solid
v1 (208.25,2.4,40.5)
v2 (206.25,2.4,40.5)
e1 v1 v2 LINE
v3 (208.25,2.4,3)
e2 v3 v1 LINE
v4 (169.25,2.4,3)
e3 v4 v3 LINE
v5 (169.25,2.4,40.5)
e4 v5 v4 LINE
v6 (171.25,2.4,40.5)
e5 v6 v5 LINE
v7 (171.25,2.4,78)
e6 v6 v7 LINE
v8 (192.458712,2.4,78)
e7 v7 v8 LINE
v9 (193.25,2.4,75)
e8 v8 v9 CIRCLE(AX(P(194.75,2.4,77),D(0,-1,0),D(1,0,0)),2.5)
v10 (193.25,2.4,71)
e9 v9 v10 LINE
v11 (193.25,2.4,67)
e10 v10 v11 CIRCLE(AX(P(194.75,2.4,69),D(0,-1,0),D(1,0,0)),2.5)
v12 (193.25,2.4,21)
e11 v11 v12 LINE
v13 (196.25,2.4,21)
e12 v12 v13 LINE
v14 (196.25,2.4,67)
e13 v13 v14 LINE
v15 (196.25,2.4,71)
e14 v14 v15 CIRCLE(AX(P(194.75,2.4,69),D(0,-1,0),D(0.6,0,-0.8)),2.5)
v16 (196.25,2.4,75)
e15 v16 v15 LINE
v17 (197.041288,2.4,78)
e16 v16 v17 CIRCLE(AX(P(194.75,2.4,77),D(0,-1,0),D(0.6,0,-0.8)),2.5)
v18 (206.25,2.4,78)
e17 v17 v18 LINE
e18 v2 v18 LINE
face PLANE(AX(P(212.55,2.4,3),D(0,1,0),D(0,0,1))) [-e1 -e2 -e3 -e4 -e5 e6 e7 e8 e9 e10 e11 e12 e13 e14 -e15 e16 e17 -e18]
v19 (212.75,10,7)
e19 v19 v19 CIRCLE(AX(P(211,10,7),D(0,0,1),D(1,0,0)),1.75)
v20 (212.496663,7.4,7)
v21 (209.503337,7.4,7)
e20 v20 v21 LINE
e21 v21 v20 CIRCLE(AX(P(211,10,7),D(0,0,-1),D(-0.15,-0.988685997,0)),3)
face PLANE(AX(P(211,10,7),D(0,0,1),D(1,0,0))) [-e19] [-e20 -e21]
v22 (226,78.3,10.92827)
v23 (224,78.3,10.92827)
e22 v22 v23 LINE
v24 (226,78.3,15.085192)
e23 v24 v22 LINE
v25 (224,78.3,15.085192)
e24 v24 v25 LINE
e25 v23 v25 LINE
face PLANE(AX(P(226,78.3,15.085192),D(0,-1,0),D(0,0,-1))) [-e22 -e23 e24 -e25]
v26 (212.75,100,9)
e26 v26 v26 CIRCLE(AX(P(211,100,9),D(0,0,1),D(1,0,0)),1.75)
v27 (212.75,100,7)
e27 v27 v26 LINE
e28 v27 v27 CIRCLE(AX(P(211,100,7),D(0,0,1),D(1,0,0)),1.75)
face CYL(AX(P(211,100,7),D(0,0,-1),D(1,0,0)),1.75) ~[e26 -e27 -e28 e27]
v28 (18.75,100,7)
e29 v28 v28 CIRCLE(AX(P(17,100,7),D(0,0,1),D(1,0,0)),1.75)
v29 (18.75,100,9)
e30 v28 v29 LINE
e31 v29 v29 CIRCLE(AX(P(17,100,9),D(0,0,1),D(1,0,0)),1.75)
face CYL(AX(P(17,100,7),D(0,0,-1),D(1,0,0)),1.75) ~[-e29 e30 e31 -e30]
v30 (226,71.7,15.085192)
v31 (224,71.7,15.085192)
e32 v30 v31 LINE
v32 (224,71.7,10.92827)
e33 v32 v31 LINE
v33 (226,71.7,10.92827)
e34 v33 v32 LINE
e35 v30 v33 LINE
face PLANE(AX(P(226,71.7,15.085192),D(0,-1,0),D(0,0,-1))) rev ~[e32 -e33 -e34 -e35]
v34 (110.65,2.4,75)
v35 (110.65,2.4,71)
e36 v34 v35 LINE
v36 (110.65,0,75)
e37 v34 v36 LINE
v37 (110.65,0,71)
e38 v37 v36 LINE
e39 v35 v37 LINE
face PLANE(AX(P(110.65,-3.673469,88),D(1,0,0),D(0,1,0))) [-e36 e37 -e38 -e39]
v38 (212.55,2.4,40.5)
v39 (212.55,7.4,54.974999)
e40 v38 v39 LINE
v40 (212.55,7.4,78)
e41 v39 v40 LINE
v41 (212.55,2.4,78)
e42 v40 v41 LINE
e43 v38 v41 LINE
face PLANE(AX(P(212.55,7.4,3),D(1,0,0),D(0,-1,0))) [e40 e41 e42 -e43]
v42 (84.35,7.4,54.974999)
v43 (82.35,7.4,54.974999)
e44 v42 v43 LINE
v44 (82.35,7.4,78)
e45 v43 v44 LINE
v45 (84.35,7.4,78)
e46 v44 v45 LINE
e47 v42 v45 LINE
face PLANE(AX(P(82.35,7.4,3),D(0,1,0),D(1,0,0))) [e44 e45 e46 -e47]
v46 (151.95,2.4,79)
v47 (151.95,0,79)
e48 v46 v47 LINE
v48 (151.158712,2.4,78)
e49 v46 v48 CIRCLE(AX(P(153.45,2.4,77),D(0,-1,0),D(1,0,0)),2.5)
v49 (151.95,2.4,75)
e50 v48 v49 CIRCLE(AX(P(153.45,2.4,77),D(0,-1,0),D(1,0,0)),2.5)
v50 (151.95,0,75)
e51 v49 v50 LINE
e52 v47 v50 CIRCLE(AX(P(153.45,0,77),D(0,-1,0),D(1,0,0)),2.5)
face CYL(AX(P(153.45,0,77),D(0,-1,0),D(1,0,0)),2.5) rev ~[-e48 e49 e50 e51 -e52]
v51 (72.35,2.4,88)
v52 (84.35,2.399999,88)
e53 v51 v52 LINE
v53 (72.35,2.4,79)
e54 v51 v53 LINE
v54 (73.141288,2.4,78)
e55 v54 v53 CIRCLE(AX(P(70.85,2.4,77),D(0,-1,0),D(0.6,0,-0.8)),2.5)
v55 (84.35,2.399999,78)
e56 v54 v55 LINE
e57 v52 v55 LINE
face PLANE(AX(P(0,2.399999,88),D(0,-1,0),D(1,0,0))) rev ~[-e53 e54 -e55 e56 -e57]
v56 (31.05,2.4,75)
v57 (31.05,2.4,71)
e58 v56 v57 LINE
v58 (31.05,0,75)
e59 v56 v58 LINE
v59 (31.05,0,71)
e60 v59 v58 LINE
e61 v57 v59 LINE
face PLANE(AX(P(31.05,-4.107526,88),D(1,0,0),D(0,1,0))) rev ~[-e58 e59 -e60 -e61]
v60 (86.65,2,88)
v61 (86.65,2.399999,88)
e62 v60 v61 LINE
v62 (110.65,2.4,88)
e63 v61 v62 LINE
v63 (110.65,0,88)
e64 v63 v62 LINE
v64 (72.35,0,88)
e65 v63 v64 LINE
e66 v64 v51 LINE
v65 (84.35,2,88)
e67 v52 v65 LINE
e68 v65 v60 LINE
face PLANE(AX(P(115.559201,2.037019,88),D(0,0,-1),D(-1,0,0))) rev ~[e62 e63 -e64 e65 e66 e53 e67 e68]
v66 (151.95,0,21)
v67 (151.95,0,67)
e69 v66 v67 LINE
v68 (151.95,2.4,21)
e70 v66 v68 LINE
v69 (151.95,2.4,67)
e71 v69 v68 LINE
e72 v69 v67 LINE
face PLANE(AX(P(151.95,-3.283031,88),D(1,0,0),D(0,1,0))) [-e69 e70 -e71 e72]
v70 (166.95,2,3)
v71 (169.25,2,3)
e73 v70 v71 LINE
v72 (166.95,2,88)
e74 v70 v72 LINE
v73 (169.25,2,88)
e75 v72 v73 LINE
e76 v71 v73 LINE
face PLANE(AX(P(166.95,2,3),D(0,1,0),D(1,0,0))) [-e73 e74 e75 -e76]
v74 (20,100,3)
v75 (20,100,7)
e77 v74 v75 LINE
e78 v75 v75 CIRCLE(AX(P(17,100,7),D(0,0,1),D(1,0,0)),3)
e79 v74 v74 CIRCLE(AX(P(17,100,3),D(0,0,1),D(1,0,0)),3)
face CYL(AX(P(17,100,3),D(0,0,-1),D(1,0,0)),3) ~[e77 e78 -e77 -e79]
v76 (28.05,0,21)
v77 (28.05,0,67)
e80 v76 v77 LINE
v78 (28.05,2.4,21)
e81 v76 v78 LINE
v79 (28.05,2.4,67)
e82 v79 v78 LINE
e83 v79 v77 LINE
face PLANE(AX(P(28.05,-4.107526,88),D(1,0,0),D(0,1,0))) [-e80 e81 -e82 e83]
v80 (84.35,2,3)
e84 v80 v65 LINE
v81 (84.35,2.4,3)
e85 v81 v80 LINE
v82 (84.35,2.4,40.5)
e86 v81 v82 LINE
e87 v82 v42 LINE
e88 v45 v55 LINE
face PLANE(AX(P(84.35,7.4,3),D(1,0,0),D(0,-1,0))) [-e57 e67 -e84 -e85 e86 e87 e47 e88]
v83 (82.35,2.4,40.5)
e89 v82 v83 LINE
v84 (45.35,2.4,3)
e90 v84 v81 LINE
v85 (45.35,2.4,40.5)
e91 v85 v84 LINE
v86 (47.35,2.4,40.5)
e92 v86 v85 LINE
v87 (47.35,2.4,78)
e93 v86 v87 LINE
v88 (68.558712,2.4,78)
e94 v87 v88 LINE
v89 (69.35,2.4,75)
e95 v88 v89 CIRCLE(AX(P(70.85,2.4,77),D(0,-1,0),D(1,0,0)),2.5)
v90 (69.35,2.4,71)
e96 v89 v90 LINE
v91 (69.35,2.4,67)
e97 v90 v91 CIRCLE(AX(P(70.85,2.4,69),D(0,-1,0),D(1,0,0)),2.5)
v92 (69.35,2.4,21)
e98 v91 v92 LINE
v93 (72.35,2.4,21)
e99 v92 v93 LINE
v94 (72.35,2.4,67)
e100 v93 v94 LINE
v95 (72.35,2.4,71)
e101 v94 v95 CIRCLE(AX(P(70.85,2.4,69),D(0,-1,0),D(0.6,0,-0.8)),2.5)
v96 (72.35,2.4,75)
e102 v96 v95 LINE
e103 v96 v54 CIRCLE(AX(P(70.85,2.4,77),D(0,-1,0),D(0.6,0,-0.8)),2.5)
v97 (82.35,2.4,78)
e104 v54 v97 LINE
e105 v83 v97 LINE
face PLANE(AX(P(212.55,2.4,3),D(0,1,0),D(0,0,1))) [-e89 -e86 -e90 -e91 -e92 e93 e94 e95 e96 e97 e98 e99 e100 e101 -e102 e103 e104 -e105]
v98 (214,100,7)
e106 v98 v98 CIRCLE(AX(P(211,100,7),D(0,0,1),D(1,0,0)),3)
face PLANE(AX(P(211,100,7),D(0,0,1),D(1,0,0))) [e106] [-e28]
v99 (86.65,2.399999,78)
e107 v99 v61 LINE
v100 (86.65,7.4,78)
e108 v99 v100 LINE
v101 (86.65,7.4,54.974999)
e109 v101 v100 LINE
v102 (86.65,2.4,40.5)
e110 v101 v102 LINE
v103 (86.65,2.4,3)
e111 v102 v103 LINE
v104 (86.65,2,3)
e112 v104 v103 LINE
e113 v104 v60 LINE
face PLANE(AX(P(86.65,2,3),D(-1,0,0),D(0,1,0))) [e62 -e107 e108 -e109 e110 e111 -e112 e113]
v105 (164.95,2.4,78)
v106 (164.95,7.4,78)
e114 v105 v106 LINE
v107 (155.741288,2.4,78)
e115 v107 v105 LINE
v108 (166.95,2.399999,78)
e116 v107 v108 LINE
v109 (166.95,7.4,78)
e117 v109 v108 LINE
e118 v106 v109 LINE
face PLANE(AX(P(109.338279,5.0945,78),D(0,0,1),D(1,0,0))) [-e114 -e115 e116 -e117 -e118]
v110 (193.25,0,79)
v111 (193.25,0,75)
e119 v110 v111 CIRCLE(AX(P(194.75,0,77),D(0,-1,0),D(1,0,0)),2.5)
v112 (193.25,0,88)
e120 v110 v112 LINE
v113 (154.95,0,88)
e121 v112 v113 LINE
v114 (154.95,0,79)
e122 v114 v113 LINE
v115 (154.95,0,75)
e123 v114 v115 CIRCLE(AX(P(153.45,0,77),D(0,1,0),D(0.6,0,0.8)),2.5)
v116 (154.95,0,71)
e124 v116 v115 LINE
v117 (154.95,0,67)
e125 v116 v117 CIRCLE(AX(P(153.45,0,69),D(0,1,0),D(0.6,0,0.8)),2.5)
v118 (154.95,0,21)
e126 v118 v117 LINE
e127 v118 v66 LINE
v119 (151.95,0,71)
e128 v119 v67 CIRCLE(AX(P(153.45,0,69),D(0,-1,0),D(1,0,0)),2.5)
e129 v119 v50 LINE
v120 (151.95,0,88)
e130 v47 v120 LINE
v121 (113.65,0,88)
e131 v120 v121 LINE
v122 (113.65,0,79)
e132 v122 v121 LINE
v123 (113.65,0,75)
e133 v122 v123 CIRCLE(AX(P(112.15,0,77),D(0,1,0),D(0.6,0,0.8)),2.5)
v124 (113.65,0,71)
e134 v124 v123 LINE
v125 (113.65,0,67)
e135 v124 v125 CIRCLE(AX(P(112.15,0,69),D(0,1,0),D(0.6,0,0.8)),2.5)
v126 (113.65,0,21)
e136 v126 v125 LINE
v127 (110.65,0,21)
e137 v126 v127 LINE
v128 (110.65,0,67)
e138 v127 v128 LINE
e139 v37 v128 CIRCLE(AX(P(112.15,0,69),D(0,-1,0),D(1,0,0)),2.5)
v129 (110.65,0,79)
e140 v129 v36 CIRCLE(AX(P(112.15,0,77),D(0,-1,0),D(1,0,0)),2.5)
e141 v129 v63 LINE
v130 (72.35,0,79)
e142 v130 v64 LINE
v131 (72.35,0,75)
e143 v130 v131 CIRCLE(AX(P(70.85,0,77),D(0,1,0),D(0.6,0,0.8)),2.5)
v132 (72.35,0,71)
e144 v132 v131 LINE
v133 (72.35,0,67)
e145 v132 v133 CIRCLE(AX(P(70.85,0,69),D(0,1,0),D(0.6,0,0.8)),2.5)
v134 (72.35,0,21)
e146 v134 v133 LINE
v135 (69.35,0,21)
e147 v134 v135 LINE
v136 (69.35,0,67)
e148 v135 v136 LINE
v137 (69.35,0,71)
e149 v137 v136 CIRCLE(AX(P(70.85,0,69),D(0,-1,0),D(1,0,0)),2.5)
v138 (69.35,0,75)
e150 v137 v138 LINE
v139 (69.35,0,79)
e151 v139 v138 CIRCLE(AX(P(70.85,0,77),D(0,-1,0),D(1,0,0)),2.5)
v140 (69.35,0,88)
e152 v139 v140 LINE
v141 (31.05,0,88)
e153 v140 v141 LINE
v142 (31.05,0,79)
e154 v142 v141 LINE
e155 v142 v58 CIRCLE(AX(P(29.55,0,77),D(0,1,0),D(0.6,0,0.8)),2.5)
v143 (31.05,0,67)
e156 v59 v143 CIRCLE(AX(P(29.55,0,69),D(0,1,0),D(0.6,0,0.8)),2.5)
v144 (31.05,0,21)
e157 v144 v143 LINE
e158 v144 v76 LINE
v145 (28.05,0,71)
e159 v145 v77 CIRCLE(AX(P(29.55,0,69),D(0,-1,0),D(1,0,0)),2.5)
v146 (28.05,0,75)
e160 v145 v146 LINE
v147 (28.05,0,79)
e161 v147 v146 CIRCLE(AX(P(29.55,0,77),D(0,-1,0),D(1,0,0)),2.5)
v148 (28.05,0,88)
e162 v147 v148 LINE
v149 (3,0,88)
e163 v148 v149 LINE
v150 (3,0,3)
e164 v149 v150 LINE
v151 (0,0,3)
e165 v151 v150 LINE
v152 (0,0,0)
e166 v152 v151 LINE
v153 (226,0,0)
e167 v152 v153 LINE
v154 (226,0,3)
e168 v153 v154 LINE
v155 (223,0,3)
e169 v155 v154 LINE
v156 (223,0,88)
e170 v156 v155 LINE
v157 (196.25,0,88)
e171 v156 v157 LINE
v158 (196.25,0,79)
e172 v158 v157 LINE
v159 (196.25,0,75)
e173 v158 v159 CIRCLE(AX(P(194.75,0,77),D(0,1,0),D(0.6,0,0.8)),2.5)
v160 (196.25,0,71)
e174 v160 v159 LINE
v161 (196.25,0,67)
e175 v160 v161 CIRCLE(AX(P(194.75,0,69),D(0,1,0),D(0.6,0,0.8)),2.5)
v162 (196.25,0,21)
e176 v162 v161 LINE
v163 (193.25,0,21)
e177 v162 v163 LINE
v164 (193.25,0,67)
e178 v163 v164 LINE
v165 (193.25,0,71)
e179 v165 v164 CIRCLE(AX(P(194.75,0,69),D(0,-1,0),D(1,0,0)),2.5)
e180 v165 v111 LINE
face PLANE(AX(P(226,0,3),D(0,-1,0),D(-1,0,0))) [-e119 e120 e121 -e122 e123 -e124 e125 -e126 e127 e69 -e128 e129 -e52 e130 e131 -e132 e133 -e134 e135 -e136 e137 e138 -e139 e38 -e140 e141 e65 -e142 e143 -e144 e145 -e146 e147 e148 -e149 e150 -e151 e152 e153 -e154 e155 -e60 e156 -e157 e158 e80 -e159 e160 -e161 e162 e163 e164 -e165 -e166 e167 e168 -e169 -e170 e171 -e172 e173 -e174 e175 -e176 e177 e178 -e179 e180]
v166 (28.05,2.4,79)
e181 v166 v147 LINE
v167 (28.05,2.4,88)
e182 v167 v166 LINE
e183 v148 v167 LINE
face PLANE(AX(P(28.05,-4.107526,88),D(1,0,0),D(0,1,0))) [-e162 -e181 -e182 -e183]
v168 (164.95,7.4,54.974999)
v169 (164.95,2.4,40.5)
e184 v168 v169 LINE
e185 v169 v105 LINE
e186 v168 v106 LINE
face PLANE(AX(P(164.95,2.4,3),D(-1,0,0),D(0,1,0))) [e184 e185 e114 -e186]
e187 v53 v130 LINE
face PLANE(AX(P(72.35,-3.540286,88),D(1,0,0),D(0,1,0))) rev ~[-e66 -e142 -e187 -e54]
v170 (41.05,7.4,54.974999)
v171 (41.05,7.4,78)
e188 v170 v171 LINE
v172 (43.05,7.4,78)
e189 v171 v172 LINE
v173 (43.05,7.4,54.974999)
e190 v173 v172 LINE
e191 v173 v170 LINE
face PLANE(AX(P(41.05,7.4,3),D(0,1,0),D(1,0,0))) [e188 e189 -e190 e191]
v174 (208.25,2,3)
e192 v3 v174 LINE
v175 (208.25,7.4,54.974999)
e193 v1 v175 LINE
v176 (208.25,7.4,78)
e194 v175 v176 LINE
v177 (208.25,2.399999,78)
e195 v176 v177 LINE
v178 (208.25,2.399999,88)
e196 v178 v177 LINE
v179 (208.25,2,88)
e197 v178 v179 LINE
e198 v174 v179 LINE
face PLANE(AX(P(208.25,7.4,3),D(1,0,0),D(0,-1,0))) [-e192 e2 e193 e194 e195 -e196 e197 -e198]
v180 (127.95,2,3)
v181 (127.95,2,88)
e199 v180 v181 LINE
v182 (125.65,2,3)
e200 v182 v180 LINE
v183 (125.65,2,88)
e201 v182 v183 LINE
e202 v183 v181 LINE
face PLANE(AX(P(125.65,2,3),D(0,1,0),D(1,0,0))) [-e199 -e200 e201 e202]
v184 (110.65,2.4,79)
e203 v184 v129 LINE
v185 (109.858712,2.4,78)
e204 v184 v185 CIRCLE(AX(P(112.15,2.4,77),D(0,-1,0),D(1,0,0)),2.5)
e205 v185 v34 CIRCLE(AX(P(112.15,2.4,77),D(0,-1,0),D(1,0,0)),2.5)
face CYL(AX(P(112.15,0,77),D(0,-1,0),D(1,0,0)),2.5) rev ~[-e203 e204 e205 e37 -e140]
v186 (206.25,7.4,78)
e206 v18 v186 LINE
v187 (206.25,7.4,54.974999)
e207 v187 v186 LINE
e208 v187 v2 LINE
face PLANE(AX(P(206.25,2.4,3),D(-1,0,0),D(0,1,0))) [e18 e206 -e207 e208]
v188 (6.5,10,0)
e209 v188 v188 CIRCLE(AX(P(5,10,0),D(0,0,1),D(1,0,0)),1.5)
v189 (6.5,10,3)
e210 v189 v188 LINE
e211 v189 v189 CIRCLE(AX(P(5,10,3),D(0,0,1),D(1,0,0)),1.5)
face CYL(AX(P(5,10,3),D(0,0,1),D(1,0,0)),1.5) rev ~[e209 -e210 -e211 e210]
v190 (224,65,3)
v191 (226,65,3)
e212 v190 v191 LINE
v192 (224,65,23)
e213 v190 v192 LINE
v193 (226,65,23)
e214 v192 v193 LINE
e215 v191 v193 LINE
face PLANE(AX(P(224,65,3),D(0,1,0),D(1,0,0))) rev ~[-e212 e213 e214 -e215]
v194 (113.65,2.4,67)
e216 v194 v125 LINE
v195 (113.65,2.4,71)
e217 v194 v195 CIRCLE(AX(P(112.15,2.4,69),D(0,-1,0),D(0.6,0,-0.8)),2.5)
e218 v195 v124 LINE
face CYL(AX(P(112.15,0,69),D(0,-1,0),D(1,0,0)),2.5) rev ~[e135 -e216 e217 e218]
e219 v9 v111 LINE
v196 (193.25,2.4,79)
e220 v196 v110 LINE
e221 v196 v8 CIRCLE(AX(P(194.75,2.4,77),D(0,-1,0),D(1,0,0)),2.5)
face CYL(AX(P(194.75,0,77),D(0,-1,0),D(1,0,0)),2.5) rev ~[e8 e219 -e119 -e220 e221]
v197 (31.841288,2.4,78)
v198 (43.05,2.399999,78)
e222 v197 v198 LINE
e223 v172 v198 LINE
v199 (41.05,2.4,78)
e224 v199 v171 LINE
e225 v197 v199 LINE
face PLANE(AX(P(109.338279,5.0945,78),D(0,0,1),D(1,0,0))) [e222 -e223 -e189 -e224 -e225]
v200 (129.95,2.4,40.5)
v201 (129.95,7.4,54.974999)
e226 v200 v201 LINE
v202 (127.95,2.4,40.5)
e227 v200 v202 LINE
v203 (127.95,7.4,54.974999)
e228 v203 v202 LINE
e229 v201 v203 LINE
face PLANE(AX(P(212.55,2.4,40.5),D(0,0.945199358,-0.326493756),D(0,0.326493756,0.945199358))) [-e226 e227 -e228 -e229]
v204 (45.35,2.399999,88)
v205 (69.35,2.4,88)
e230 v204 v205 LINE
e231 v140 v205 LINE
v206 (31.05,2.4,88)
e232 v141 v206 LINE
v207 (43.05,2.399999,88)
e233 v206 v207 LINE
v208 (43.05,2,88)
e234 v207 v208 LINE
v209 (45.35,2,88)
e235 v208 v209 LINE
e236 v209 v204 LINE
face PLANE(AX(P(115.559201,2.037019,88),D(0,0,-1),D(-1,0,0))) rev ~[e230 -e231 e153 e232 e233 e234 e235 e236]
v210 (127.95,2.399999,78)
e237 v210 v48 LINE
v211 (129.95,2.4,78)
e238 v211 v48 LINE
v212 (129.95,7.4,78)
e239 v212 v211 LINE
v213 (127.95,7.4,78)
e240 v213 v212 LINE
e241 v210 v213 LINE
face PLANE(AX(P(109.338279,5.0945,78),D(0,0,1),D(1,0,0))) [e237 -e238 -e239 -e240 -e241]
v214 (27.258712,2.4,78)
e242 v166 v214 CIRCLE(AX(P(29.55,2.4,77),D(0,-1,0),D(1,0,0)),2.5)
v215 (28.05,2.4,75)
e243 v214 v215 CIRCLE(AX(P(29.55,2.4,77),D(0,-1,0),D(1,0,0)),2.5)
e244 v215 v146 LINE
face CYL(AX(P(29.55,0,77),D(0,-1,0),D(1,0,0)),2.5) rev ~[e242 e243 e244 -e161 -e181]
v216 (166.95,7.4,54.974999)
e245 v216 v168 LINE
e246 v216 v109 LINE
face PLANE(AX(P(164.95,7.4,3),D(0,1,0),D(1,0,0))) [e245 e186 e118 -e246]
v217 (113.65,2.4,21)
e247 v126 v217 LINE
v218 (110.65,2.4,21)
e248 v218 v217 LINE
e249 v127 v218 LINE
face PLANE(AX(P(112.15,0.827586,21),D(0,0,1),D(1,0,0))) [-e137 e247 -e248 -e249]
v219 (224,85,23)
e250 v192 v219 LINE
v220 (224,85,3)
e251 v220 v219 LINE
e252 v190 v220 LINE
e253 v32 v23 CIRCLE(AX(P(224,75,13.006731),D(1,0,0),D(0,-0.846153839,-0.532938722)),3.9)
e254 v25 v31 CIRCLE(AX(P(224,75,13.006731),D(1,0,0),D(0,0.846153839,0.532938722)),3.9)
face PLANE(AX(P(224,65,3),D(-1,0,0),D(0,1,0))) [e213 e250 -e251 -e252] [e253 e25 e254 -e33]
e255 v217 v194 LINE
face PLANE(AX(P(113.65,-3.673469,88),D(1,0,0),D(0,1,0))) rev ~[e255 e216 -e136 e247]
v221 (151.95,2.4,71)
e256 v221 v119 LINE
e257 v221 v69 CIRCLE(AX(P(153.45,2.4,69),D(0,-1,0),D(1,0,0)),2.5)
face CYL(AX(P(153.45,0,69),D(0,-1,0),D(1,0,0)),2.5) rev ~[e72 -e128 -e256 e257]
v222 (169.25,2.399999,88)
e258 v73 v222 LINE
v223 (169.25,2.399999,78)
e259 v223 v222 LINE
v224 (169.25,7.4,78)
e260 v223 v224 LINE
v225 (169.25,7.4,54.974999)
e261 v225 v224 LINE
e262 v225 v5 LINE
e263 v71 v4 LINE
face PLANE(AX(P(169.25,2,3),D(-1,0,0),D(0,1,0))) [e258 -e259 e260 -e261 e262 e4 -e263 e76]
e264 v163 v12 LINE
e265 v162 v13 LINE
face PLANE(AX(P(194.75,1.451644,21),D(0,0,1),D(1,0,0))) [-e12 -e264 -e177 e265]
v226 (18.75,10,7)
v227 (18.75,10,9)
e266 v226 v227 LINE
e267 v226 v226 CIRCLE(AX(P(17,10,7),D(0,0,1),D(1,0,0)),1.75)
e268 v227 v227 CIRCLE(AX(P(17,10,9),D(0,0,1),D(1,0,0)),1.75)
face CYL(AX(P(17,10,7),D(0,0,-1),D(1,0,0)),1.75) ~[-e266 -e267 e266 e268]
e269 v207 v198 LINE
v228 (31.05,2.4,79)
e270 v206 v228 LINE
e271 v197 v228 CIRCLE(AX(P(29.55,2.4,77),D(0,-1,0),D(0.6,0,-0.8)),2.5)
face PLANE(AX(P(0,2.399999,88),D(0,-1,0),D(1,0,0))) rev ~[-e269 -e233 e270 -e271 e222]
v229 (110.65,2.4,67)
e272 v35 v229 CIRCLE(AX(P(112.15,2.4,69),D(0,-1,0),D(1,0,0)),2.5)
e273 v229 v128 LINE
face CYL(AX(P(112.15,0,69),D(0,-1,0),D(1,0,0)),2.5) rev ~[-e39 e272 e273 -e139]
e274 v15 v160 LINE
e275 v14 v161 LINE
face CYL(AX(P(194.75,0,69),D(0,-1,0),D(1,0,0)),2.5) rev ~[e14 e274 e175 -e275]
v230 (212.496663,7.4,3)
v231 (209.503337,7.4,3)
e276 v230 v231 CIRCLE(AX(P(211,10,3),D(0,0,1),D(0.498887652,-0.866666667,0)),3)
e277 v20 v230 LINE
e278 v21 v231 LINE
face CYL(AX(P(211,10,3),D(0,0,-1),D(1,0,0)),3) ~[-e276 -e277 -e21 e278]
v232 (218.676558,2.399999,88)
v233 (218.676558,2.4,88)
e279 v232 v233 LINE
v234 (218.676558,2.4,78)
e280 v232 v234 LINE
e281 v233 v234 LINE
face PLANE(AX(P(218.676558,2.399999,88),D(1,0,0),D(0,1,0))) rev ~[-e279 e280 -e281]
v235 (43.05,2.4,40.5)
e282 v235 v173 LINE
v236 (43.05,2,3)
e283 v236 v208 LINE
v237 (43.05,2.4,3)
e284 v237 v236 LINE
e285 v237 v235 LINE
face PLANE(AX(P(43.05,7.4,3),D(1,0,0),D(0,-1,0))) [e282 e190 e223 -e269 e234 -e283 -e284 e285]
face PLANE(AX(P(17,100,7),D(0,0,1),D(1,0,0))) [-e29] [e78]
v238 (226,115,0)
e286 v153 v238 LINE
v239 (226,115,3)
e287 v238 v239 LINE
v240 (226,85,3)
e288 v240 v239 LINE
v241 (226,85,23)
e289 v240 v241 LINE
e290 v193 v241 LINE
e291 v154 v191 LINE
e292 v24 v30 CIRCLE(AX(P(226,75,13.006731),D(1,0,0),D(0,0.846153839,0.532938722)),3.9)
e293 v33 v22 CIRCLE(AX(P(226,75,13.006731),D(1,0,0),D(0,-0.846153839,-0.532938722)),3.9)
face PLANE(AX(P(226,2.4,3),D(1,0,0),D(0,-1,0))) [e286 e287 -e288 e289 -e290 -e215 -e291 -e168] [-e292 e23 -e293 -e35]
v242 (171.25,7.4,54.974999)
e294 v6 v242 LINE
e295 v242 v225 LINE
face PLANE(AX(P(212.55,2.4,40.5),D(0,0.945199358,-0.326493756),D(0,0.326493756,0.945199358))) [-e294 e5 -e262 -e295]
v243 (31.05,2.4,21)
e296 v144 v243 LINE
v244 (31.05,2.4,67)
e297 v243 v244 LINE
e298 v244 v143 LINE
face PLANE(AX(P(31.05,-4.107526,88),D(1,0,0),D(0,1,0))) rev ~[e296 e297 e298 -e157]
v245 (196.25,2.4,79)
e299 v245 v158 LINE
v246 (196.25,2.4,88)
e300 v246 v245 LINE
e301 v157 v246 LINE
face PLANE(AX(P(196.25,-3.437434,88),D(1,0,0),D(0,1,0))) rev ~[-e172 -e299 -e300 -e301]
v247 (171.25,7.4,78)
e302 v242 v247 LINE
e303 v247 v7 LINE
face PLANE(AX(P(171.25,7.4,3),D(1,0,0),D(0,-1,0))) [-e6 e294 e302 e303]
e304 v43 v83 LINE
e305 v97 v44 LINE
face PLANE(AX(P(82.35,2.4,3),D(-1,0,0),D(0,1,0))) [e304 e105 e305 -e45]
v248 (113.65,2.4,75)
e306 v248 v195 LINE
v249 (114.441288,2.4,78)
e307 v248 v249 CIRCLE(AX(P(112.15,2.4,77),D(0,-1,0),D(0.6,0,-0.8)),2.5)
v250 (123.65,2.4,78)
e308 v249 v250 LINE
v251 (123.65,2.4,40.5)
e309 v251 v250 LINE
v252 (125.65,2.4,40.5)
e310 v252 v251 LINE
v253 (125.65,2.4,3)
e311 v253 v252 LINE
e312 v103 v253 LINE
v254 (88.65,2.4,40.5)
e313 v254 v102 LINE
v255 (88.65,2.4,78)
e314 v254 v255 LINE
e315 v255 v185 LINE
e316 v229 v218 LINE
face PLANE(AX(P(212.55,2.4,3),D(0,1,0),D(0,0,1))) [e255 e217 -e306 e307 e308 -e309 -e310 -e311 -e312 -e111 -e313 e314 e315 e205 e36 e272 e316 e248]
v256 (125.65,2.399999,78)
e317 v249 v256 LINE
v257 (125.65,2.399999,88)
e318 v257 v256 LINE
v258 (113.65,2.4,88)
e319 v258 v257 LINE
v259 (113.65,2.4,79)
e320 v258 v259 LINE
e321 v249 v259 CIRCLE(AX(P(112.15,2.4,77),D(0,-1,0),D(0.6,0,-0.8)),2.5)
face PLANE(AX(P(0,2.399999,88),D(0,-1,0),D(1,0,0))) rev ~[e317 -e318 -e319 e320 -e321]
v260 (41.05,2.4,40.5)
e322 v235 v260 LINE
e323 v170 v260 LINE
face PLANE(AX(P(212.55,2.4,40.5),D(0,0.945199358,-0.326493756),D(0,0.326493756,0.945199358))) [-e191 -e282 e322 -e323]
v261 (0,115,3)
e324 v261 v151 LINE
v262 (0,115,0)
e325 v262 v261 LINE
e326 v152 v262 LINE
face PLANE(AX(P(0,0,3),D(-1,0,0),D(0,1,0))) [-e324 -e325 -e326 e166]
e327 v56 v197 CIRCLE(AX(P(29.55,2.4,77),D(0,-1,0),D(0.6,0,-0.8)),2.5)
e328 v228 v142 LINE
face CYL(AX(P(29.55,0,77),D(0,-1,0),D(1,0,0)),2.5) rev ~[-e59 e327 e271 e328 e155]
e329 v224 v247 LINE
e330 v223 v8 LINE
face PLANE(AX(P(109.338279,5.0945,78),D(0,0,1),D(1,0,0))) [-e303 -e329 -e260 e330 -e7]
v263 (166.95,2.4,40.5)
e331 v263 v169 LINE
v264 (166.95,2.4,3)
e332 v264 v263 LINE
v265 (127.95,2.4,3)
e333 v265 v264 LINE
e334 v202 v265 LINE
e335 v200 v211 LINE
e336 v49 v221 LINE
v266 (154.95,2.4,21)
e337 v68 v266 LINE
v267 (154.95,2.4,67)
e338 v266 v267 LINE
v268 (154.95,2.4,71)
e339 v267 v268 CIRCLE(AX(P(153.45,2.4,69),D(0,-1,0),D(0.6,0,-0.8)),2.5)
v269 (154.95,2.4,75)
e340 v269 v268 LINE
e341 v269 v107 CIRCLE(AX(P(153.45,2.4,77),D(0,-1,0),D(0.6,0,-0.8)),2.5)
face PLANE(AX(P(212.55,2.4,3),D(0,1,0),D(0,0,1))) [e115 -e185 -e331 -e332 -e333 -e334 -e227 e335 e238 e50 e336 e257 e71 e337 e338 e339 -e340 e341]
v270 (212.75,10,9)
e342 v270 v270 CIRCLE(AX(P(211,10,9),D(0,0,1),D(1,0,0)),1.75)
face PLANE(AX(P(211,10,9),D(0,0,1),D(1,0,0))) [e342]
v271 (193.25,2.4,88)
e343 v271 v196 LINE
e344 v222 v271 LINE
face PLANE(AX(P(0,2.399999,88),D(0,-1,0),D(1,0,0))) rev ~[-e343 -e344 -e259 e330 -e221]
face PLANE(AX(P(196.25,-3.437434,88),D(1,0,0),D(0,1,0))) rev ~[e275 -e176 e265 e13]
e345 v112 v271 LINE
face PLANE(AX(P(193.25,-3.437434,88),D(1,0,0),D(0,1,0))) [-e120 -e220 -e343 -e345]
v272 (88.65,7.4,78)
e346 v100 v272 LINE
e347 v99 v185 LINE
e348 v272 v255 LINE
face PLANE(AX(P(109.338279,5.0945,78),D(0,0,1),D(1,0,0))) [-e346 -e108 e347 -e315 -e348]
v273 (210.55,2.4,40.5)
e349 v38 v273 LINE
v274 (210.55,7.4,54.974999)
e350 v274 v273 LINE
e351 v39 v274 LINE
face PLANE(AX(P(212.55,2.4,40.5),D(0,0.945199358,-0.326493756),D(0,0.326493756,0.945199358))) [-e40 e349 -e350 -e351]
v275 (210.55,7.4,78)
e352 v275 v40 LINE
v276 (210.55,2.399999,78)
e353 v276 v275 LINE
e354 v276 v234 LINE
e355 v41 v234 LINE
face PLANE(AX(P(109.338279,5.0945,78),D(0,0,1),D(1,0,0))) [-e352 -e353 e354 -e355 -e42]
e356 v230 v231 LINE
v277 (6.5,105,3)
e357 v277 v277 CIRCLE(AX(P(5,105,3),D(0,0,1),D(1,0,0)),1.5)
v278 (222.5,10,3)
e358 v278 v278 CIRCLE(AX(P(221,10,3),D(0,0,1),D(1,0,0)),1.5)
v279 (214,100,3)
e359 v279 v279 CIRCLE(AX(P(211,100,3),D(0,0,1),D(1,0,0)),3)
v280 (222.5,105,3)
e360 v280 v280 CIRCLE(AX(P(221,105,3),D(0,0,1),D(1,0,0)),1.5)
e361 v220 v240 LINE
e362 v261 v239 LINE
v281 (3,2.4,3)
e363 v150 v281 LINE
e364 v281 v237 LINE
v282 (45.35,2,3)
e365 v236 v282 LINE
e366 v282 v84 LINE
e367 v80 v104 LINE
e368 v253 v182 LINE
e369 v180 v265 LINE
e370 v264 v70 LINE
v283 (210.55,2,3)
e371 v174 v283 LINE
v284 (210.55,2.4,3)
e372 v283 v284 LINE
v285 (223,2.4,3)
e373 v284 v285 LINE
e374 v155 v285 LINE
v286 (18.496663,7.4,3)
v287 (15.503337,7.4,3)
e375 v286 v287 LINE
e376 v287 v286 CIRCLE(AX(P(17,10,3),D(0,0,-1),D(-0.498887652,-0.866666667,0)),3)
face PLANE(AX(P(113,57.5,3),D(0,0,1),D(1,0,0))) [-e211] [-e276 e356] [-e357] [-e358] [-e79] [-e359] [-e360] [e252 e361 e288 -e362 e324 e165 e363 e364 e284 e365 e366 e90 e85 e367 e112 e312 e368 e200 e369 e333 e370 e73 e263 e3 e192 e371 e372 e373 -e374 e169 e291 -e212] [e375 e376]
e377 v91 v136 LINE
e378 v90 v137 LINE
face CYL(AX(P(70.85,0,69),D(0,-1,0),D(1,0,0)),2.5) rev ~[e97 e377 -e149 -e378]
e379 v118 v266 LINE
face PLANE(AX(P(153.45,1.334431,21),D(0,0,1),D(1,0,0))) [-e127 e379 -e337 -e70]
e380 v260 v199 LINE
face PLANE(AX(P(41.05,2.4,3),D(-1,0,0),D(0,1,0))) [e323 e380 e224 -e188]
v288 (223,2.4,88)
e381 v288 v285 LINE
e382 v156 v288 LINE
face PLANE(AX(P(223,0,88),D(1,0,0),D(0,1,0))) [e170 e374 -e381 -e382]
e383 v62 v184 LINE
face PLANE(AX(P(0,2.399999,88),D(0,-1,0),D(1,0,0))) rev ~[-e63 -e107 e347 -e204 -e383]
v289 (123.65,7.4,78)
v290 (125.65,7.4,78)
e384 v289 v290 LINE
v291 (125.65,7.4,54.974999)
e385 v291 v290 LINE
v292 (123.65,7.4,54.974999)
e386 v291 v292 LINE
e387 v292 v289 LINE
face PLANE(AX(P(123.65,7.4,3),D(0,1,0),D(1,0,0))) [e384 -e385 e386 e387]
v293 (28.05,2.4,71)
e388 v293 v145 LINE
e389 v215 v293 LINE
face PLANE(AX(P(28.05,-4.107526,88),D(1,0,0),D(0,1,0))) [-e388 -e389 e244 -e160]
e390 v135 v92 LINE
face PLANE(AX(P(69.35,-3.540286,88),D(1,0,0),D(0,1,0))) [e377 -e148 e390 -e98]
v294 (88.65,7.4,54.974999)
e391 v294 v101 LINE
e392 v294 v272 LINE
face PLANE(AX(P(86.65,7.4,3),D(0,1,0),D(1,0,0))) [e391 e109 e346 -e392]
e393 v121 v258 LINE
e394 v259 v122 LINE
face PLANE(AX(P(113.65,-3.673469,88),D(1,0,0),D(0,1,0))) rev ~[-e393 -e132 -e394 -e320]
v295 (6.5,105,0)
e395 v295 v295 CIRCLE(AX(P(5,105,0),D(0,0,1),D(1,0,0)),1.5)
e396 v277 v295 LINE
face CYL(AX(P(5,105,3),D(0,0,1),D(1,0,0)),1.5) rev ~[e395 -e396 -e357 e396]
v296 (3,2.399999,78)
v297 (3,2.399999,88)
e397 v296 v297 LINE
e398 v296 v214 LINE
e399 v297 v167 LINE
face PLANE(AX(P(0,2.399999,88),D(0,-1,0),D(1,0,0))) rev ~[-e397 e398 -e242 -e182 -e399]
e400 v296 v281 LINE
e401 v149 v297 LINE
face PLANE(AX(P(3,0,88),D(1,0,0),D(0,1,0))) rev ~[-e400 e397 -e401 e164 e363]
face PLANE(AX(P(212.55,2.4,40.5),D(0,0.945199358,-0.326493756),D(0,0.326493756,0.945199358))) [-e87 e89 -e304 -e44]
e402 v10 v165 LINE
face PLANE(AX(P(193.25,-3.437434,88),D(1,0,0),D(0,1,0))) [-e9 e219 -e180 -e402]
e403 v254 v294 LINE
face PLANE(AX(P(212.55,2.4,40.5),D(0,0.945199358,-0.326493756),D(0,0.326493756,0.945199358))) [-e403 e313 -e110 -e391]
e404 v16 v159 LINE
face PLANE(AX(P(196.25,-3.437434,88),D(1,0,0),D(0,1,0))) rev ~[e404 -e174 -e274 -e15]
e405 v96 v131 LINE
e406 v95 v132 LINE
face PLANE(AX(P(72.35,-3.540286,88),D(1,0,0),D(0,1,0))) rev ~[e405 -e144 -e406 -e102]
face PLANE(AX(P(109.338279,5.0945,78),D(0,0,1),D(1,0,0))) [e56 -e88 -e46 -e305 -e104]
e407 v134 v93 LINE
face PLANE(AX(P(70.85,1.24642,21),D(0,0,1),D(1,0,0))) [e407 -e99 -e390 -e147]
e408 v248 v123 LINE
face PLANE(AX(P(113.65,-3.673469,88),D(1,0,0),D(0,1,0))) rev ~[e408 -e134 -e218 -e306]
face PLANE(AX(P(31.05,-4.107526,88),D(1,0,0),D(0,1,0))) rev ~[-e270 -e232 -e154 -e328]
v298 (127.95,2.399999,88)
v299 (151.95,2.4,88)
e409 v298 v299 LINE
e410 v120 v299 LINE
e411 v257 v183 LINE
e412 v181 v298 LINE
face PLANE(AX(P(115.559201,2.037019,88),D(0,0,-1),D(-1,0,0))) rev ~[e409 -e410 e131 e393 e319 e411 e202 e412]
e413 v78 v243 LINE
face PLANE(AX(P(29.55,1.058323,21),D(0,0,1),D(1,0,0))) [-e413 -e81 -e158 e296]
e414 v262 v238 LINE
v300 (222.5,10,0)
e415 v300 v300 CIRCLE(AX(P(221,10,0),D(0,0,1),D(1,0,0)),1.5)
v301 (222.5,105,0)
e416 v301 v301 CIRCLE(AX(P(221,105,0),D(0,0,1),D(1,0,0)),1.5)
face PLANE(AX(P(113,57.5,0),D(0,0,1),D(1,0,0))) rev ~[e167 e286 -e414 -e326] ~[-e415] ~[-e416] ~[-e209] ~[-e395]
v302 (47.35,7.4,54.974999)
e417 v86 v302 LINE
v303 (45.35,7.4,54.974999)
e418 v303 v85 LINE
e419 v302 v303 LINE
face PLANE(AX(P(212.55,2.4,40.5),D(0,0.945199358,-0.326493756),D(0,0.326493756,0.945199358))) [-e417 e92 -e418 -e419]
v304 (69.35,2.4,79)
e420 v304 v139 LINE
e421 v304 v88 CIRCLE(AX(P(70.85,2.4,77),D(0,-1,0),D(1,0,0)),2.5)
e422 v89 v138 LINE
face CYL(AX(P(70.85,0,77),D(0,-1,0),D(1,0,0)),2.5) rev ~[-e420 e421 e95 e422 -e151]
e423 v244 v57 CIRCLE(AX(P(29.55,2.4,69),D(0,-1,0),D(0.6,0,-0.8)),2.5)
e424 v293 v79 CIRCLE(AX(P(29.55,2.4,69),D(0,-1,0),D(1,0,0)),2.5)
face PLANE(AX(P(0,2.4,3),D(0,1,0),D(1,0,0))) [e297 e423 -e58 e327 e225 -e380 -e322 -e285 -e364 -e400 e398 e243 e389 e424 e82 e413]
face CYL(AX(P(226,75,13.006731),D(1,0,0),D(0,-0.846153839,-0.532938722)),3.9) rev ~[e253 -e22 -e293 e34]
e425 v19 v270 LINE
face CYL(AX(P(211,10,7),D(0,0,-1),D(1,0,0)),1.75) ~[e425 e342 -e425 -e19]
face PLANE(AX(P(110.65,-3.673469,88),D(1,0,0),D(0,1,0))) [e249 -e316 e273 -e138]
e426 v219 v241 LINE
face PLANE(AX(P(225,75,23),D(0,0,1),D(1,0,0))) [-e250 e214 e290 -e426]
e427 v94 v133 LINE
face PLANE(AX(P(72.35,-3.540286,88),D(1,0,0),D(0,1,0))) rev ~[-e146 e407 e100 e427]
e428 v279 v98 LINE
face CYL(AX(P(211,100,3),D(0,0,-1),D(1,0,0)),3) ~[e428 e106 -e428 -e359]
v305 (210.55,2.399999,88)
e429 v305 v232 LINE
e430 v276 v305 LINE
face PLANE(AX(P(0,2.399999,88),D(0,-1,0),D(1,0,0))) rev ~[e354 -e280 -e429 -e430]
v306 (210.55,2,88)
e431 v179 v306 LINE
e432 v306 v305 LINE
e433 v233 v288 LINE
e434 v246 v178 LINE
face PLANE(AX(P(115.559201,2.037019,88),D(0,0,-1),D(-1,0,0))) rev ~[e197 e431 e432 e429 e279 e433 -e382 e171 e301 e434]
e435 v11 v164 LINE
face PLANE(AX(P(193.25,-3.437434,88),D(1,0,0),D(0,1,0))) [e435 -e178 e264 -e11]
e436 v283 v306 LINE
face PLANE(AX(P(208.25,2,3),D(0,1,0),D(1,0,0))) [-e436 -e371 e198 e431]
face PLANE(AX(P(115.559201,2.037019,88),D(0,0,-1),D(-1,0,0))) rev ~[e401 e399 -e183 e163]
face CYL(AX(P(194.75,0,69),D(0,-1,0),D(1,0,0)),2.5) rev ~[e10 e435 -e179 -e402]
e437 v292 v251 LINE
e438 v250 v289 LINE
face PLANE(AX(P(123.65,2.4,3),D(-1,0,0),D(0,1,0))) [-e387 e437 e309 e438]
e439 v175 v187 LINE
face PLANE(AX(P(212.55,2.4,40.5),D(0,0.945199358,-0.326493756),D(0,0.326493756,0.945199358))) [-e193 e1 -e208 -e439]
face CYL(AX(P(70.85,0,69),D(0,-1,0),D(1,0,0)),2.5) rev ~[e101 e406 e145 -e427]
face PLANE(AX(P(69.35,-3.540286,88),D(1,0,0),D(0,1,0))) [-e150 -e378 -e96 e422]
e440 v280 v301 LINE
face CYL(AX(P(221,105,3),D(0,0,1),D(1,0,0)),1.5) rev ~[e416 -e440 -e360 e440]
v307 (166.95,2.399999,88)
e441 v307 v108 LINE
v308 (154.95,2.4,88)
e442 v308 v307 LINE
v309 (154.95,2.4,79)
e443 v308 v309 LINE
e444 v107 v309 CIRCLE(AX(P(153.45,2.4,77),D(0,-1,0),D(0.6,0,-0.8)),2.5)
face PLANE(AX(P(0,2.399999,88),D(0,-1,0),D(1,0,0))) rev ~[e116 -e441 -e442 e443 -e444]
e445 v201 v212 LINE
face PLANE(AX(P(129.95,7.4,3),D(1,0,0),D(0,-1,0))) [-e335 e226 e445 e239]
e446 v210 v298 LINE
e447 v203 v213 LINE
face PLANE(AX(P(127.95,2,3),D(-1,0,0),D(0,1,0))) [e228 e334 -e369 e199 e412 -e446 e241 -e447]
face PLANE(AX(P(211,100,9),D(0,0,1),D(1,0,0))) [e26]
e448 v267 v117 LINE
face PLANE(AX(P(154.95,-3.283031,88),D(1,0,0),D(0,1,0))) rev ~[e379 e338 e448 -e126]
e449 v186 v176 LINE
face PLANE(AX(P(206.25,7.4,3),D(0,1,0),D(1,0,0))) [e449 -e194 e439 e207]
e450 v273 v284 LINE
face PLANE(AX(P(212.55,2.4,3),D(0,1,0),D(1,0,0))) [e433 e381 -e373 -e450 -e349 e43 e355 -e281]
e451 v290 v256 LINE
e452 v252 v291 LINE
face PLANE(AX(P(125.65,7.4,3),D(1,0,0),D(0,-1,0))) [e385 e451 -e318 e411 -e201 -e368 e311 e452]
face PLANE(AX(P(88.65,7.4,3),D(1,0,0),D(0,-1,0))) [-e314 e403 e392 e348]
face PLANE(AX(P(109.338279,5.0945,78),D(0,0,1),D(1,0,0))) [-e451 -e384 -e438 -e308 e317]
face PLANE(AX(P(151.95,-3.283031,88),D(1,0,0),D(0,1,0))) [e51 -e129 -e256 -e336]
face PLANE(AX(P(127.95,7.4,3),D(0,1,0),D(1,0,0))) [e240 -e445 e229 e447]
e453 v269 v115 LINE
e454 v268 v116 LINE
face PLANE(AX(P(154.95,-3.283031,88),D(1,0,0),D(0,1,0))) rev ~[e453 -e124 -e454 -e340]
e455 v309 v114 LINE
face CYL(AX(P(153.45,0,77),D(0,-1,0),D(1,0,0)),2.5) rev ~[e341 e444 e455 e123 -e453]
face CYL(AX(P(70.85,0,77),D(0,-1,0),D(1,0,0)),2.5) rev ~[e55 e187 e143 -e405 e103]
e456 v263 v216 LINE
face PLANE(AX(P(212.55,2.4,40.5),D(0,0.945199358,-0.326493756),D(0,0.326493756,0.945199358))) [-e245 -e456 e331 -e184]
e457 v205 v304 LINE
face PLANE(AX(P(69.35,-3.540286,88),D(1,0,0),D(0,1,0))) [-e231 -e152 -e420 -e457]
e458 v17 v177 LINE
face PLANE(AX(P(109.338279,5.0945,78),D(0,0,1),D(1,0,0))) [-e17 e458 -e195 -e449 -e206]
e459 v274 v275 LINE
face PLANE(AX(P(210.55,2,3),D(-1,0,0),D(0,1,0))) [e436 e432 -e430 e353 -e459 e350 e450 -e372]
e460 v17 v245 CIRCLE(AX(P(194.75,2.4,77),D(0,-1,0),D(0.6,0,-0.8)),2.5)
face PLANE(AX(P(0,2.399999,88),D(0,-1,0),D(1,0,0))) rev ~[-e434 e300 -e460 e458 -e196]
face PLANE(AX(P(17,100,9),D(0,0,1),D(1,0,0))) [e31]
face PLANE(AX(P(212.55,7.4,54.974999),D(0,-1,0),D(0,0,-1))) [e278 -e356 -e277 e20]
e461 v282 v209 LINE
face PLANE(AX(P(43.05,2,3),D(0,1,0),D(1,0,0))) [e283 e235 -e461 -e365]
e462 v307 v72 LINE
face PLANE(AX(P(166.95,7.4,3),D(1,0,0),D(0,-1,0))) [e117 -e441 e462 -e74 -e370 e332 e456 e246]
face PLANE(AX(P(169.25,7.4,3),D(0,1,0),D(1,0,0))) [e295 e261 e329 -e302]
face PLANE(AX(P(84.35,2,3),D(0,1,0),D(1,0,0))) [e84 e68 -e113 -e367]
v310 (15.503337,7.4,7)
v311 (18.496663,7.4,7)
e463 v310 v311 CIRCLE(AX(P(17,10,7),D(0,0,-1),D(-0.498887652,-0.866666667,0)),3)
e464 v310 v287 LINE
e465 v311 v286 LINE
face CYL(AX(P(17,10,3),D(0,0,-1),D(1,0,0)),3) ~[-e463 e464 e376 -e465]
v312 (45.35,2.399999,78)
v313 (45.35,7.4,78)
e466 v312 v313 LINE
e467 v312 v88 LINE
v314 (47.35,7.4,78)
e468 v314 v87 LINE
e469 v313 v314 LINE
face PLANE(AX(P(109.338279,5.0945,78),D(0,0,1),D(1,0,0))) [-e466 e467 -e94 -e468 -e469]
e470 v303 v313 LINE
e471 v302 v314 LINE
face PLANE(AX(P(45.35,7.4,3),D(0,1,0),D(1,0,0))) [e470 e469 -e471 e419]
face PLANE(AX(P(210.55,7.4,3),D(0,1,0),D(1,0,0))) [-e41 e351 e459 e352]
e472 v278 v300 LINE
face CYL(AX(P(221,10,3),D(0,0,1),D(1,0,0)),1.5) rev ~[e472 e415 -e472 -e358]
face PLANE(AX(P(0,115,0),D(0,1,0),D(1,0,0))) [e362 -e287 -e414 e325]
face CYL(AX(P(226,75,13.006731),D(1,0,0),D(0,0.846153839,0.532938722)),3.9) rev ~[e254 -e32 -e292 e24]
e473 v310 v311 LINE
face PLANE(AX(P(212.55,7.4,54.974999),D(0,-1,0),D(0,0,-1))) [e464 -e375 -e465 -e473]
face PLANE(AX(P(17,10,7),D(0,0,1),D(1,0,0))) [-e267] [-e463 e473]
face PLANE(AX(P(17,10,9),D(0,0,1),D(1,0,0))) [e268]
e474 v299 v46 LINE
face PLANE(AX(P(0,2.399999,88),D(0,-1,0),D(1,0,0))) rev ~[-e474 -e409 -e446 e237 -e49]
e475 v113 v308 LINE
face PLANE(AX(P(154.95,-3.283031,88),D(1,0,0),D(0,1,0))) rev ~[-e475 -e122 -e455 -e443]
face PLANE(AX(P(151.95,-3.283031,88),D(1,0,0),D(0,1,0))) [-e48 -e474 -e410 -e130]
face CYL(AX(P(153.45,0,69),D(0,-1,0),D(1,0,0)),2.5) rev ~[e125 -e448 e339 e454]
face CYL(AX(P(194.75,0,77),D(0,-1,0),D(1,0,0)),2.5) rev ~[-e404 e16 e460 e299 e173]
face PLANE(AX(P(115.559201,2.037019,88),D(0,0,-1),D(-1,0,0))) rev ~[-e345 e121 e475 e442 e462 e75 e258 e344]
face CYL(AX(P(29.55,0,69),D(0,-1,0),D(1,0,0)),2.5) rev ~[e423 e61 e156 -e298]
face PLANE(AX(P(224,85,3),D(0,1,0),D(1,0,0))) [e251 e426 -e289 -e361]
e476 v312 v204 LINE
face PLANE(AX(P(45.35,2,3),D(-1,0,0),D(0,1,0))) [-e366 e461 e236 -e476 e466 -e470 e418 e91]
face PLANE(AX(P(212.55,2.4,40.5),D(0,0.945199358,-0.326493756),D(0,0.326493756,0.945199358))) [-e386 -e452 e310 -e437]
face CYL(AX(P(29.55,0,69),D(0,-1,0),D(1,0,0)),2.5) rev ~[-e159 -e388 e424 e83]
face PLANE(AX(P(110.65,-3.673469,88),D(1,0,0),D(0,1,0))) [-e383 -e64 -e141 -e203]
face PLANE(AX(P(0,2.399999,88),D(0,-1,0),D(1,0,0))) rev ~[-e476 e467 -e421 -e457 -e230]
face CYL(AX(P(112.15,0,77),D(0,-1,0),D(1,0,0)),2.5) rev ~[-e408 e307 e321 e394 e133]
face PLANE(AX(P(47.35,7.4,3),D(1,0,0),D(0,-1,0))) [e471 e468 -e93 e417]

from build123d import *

# Parameters (mm, degrees)
SKETCH_W        = 226
SKETCH_H        = 115
PAD_DEPTH       = 3
PAD001_DEPTH    = 85
SKETCH002_R     = 3
PAD002_DEPTH    = 4
SKETCH003_R     = 1.75
PAD003_DEPTH    = 2
SKETCH004_R     = 1.5
POCKET_DEPTH    = 3.001
SKETCH005_W     = 3
SKETCH005_H     = 10.331698
SKETCH005_H_2   = 9.573412
SKETCH005_H_3   = 9.002111
SKETCH005_H_4   = 9.234924
SKETCH005_H_5   = 9.778156
POCKET001_DEPTH = 67
SKETCH006_R     = 2.5
POCKET002_DEPTH = 5
SKETCH008_W     = 218.676559
SKETCH008_H     = 5.389001
POCKET003_DEPTH = 10
POCKET004_DEPTH = 200
SKETCH010_W     = 2
SKETCH010_H     = 20
PAD004_DEPTH    = 20
POCKET005_DEPTH = 5
SKETCH012_W     = 3
SKETCH012_H     = 3
POCKET006_DEPTH = 85


with BuildPart() as part:
    # Sketch → Pad (new body)
    with BuildSketch(Plane.XY):
        with Locations((113, 57.5)):
            Rectangle(SKETCH_W, SKETCH_H)
    extrude(amount=PAD_DEPTH)

    # Sketch001 (on Face6 of Pad) → Pad001 (join)
    with BuildSketch(Plane.XY.offset(3)):
        Polygon((0, 0), (0, 2.4), (41.05, 2.4), (41.05, 7.4), (43.05, 7.4), (43.05, 2), (45.35, 2), (45.35, 7.4), (47.35, 7.4), (47.35, 2.4), (82.35, 2.4), (82.35, 7.4), (84.35, 7.4), (84.35, 2), (86.65, 2), (86.65, 7.4), (88.65, 7.4), (88.65, 2.4), (123.65, 2.4), (123.65, 7.4), (125.65, 7.4), (125.65, 2), (127.95, 2), (127.95, 7.4), (129.95, 7.4), (129.95, 2.4), (164.95, 2.4), (164.95, 7.4), (166.95, 7.4), (166.95, 2), (169.25, 2), (169.25, 7.4), (171.25, 7.4), (171.25, 2.4), (206.25, 2.4), (206.25, 7.4), (208.25, 7.4), (208.25, 2), (210.55, 2), (210.55, 7.4), (212.55, 7.4), (212.55, 2.4), (226, 2.4), (226, 0), align=None)
    extrude(amount=PAD001_DEPTH)

    # Sketch002 (on Face3 of Pad001) → Pad002 (join)
    with BuildSketch(Plane.XY.offset(3)):
        with Locations((17, 10)):
            Circle(SKETCH002_R)
        with Locations((17, 100)):
            Circle(SKETCH002_R)
        with Locations((211, 100)):
            Circle(SKETCH002_R)
        with Locations((211, 10)):
            Circle(SKETCH002_R)
    extrude(amount=PAD002_DEPTH)

    # Sketch003 (on Face54 of Pad002) → Pad003 (join)
    with BuildSketch(Plane.XY.offset(7)):
        with Locations((17, 100)):
            Circle(SKETCH003_R)
        with Locations((211, 100)):
            Circle(SKETCH003_R)
        with Locations((17, 10)):
            Circle(SKETCH003_R)
        with Locations((211, 10)):
            Circle(SKETCH003_R)
    extrude(amount=PAD003_DEPTH)

    # Sketch004 (on Face7 of Pad003) → Pocket (cut, through all)
    with BuildSketch(Plane.XY.offset(3)):
        with Locations((5, 105)):
            Circle(SKETCH004_R)
        with Locations((221, 105)):
            Circle(SKETCH004_R)
        with Locations((221, 10)):
            Circle(SKETCH004_R)
        with Locations((5, 10)):
            Circle(SKETCH004_R)
    extrude(amount=-POCKET_DEPTH, mode=Mode.SUBTRACT)

    # Sketch005 (on Face10 of Pocket) → Pocket001 (cut)
    with BuildSketch(Plane.XY.offset(88)):
        with Locations((29.55, 1.058323)):
            Rectangle(SKETCH005_W, SKETCH005_H)
        with Locations((70.85, 1.24642)):
            Rectangle(SKETCH005_W, SKETCH005_H_2)
        with Locations((112.15, 0.827586)):
            Rectangle(SKETCH005_W, SKETCH005_H_3)
        with Locations((153.45, 1.334431)):
            Rectangle(SKETCH005_W, SKETCH005_H_4)
        with Locations((194.75, 1.451644)):
            Rectangle(SKETCH005_W, SKETCH005_H_5)
    extrude(amount=-POCKET001_DEPTH, mode=Mode.SUBTRACT)

    # Sketch006 (on Face2 of Pocket001) → Pocket002 (cut)
    with BuildSketch(Plane.XZ):
        with Locations((29.55, 77)):
            Circle(SKETCH006_R)
        with Locations((29.55, 69)):
            Circle(SKETCH006_R)
        with Locations((70.85, 77)):
            Circle(SKETCH006_R)
        with Locations((70.85, 69)):
            Circle(SKETCH006_R)
        with Locations((112.15, 77)):
            Circle(SKETCH006_R)
        with Locations((112.15, 69)):
            Circle(SKETCH006_R)
        with Locations((153.45, 77)):
            Circle(SKETCH006_R)
        with Locations((153.45, 69)):
            Circle(SKETCH006_R)
        with Locations((194.75, 77)):
            Circle(SKETCH006_R)
        with Locations((194.75, 69)):
            Circle(SKETCH006_R)
    extrude(amount=-POCKET002_DEPTH, mode=Mode.SUBTRACT)

    # Sketch008 (on Face60 of Pocket002) → Pocket003 (cut)
    with BuildSketch(Plane.XY.offset(88)):
        with Locations((109.338279, 5.0945)):
            Rectangle(SKETCH008_W, SKETCH008_H)
    extrude(amount=-POCKET003_DEPTH, mode=Mode.SUBTRACT)

    # Sketch009 (on Face88 of Pocket003) → Pocket004 (cut)
    with BuildSketch(Plane.YZ.offset(212.55)):
        Polygon((7.4, 3), (2.4, 3), (2.4, 40.5), (7.4, 54.974999), align=None)
    extrude(amount=-POCKET004_DEPTH, mode=Mode.SUBTRACT)

    # Sketch010 (on Face132 of Pocket004) → Pad004 (join)
    with BuildSketch(Plane.XY.offset(3)):
        with Locations((225, 75)):
            Rectangle(SKETCH010_W, SKETCH010_H)
    extrude(amount=PAD004_DEPTH)

    # Sketch011 (on Face154 of Pad004) → Pocket005 (cut)
    with BuildSketch(Plane.YZ.offset(226)):
        with BuildLine():
            ThreePointArc((78.3, 15.085192), (75, 16.906731), (71.7, 15.085192))
            Line((71.7, 15.085192), (71.7, 10.92827))
            ThreePointArc((71.7, 10.92827), (75, 9.106731), (78.3, 10.92827))
            Line((78.3, 15.085192), (78.3, 10.92827))
        make_face()
    extrude(amount=-POCKET005_DEPTH, mode=Mode.SUBTRACT)

    # Sketch012 (on Face80 of Pocket005) → Pocket006 (cut)
    with BuildSketch(Plane.XY.offset(88)):
        with Locations((1.5, 1.5)):
            Rectangle(SKETCH012_W, SKETCH012_H)
        with Locations((224.5, 1.5)):
            Rectangle(SKETCH012_W, SKETCH012_H)
    extrude(amount=-POCKET006_DEPTH, mode=Mode.SUBTRACT)


solid = part.part
